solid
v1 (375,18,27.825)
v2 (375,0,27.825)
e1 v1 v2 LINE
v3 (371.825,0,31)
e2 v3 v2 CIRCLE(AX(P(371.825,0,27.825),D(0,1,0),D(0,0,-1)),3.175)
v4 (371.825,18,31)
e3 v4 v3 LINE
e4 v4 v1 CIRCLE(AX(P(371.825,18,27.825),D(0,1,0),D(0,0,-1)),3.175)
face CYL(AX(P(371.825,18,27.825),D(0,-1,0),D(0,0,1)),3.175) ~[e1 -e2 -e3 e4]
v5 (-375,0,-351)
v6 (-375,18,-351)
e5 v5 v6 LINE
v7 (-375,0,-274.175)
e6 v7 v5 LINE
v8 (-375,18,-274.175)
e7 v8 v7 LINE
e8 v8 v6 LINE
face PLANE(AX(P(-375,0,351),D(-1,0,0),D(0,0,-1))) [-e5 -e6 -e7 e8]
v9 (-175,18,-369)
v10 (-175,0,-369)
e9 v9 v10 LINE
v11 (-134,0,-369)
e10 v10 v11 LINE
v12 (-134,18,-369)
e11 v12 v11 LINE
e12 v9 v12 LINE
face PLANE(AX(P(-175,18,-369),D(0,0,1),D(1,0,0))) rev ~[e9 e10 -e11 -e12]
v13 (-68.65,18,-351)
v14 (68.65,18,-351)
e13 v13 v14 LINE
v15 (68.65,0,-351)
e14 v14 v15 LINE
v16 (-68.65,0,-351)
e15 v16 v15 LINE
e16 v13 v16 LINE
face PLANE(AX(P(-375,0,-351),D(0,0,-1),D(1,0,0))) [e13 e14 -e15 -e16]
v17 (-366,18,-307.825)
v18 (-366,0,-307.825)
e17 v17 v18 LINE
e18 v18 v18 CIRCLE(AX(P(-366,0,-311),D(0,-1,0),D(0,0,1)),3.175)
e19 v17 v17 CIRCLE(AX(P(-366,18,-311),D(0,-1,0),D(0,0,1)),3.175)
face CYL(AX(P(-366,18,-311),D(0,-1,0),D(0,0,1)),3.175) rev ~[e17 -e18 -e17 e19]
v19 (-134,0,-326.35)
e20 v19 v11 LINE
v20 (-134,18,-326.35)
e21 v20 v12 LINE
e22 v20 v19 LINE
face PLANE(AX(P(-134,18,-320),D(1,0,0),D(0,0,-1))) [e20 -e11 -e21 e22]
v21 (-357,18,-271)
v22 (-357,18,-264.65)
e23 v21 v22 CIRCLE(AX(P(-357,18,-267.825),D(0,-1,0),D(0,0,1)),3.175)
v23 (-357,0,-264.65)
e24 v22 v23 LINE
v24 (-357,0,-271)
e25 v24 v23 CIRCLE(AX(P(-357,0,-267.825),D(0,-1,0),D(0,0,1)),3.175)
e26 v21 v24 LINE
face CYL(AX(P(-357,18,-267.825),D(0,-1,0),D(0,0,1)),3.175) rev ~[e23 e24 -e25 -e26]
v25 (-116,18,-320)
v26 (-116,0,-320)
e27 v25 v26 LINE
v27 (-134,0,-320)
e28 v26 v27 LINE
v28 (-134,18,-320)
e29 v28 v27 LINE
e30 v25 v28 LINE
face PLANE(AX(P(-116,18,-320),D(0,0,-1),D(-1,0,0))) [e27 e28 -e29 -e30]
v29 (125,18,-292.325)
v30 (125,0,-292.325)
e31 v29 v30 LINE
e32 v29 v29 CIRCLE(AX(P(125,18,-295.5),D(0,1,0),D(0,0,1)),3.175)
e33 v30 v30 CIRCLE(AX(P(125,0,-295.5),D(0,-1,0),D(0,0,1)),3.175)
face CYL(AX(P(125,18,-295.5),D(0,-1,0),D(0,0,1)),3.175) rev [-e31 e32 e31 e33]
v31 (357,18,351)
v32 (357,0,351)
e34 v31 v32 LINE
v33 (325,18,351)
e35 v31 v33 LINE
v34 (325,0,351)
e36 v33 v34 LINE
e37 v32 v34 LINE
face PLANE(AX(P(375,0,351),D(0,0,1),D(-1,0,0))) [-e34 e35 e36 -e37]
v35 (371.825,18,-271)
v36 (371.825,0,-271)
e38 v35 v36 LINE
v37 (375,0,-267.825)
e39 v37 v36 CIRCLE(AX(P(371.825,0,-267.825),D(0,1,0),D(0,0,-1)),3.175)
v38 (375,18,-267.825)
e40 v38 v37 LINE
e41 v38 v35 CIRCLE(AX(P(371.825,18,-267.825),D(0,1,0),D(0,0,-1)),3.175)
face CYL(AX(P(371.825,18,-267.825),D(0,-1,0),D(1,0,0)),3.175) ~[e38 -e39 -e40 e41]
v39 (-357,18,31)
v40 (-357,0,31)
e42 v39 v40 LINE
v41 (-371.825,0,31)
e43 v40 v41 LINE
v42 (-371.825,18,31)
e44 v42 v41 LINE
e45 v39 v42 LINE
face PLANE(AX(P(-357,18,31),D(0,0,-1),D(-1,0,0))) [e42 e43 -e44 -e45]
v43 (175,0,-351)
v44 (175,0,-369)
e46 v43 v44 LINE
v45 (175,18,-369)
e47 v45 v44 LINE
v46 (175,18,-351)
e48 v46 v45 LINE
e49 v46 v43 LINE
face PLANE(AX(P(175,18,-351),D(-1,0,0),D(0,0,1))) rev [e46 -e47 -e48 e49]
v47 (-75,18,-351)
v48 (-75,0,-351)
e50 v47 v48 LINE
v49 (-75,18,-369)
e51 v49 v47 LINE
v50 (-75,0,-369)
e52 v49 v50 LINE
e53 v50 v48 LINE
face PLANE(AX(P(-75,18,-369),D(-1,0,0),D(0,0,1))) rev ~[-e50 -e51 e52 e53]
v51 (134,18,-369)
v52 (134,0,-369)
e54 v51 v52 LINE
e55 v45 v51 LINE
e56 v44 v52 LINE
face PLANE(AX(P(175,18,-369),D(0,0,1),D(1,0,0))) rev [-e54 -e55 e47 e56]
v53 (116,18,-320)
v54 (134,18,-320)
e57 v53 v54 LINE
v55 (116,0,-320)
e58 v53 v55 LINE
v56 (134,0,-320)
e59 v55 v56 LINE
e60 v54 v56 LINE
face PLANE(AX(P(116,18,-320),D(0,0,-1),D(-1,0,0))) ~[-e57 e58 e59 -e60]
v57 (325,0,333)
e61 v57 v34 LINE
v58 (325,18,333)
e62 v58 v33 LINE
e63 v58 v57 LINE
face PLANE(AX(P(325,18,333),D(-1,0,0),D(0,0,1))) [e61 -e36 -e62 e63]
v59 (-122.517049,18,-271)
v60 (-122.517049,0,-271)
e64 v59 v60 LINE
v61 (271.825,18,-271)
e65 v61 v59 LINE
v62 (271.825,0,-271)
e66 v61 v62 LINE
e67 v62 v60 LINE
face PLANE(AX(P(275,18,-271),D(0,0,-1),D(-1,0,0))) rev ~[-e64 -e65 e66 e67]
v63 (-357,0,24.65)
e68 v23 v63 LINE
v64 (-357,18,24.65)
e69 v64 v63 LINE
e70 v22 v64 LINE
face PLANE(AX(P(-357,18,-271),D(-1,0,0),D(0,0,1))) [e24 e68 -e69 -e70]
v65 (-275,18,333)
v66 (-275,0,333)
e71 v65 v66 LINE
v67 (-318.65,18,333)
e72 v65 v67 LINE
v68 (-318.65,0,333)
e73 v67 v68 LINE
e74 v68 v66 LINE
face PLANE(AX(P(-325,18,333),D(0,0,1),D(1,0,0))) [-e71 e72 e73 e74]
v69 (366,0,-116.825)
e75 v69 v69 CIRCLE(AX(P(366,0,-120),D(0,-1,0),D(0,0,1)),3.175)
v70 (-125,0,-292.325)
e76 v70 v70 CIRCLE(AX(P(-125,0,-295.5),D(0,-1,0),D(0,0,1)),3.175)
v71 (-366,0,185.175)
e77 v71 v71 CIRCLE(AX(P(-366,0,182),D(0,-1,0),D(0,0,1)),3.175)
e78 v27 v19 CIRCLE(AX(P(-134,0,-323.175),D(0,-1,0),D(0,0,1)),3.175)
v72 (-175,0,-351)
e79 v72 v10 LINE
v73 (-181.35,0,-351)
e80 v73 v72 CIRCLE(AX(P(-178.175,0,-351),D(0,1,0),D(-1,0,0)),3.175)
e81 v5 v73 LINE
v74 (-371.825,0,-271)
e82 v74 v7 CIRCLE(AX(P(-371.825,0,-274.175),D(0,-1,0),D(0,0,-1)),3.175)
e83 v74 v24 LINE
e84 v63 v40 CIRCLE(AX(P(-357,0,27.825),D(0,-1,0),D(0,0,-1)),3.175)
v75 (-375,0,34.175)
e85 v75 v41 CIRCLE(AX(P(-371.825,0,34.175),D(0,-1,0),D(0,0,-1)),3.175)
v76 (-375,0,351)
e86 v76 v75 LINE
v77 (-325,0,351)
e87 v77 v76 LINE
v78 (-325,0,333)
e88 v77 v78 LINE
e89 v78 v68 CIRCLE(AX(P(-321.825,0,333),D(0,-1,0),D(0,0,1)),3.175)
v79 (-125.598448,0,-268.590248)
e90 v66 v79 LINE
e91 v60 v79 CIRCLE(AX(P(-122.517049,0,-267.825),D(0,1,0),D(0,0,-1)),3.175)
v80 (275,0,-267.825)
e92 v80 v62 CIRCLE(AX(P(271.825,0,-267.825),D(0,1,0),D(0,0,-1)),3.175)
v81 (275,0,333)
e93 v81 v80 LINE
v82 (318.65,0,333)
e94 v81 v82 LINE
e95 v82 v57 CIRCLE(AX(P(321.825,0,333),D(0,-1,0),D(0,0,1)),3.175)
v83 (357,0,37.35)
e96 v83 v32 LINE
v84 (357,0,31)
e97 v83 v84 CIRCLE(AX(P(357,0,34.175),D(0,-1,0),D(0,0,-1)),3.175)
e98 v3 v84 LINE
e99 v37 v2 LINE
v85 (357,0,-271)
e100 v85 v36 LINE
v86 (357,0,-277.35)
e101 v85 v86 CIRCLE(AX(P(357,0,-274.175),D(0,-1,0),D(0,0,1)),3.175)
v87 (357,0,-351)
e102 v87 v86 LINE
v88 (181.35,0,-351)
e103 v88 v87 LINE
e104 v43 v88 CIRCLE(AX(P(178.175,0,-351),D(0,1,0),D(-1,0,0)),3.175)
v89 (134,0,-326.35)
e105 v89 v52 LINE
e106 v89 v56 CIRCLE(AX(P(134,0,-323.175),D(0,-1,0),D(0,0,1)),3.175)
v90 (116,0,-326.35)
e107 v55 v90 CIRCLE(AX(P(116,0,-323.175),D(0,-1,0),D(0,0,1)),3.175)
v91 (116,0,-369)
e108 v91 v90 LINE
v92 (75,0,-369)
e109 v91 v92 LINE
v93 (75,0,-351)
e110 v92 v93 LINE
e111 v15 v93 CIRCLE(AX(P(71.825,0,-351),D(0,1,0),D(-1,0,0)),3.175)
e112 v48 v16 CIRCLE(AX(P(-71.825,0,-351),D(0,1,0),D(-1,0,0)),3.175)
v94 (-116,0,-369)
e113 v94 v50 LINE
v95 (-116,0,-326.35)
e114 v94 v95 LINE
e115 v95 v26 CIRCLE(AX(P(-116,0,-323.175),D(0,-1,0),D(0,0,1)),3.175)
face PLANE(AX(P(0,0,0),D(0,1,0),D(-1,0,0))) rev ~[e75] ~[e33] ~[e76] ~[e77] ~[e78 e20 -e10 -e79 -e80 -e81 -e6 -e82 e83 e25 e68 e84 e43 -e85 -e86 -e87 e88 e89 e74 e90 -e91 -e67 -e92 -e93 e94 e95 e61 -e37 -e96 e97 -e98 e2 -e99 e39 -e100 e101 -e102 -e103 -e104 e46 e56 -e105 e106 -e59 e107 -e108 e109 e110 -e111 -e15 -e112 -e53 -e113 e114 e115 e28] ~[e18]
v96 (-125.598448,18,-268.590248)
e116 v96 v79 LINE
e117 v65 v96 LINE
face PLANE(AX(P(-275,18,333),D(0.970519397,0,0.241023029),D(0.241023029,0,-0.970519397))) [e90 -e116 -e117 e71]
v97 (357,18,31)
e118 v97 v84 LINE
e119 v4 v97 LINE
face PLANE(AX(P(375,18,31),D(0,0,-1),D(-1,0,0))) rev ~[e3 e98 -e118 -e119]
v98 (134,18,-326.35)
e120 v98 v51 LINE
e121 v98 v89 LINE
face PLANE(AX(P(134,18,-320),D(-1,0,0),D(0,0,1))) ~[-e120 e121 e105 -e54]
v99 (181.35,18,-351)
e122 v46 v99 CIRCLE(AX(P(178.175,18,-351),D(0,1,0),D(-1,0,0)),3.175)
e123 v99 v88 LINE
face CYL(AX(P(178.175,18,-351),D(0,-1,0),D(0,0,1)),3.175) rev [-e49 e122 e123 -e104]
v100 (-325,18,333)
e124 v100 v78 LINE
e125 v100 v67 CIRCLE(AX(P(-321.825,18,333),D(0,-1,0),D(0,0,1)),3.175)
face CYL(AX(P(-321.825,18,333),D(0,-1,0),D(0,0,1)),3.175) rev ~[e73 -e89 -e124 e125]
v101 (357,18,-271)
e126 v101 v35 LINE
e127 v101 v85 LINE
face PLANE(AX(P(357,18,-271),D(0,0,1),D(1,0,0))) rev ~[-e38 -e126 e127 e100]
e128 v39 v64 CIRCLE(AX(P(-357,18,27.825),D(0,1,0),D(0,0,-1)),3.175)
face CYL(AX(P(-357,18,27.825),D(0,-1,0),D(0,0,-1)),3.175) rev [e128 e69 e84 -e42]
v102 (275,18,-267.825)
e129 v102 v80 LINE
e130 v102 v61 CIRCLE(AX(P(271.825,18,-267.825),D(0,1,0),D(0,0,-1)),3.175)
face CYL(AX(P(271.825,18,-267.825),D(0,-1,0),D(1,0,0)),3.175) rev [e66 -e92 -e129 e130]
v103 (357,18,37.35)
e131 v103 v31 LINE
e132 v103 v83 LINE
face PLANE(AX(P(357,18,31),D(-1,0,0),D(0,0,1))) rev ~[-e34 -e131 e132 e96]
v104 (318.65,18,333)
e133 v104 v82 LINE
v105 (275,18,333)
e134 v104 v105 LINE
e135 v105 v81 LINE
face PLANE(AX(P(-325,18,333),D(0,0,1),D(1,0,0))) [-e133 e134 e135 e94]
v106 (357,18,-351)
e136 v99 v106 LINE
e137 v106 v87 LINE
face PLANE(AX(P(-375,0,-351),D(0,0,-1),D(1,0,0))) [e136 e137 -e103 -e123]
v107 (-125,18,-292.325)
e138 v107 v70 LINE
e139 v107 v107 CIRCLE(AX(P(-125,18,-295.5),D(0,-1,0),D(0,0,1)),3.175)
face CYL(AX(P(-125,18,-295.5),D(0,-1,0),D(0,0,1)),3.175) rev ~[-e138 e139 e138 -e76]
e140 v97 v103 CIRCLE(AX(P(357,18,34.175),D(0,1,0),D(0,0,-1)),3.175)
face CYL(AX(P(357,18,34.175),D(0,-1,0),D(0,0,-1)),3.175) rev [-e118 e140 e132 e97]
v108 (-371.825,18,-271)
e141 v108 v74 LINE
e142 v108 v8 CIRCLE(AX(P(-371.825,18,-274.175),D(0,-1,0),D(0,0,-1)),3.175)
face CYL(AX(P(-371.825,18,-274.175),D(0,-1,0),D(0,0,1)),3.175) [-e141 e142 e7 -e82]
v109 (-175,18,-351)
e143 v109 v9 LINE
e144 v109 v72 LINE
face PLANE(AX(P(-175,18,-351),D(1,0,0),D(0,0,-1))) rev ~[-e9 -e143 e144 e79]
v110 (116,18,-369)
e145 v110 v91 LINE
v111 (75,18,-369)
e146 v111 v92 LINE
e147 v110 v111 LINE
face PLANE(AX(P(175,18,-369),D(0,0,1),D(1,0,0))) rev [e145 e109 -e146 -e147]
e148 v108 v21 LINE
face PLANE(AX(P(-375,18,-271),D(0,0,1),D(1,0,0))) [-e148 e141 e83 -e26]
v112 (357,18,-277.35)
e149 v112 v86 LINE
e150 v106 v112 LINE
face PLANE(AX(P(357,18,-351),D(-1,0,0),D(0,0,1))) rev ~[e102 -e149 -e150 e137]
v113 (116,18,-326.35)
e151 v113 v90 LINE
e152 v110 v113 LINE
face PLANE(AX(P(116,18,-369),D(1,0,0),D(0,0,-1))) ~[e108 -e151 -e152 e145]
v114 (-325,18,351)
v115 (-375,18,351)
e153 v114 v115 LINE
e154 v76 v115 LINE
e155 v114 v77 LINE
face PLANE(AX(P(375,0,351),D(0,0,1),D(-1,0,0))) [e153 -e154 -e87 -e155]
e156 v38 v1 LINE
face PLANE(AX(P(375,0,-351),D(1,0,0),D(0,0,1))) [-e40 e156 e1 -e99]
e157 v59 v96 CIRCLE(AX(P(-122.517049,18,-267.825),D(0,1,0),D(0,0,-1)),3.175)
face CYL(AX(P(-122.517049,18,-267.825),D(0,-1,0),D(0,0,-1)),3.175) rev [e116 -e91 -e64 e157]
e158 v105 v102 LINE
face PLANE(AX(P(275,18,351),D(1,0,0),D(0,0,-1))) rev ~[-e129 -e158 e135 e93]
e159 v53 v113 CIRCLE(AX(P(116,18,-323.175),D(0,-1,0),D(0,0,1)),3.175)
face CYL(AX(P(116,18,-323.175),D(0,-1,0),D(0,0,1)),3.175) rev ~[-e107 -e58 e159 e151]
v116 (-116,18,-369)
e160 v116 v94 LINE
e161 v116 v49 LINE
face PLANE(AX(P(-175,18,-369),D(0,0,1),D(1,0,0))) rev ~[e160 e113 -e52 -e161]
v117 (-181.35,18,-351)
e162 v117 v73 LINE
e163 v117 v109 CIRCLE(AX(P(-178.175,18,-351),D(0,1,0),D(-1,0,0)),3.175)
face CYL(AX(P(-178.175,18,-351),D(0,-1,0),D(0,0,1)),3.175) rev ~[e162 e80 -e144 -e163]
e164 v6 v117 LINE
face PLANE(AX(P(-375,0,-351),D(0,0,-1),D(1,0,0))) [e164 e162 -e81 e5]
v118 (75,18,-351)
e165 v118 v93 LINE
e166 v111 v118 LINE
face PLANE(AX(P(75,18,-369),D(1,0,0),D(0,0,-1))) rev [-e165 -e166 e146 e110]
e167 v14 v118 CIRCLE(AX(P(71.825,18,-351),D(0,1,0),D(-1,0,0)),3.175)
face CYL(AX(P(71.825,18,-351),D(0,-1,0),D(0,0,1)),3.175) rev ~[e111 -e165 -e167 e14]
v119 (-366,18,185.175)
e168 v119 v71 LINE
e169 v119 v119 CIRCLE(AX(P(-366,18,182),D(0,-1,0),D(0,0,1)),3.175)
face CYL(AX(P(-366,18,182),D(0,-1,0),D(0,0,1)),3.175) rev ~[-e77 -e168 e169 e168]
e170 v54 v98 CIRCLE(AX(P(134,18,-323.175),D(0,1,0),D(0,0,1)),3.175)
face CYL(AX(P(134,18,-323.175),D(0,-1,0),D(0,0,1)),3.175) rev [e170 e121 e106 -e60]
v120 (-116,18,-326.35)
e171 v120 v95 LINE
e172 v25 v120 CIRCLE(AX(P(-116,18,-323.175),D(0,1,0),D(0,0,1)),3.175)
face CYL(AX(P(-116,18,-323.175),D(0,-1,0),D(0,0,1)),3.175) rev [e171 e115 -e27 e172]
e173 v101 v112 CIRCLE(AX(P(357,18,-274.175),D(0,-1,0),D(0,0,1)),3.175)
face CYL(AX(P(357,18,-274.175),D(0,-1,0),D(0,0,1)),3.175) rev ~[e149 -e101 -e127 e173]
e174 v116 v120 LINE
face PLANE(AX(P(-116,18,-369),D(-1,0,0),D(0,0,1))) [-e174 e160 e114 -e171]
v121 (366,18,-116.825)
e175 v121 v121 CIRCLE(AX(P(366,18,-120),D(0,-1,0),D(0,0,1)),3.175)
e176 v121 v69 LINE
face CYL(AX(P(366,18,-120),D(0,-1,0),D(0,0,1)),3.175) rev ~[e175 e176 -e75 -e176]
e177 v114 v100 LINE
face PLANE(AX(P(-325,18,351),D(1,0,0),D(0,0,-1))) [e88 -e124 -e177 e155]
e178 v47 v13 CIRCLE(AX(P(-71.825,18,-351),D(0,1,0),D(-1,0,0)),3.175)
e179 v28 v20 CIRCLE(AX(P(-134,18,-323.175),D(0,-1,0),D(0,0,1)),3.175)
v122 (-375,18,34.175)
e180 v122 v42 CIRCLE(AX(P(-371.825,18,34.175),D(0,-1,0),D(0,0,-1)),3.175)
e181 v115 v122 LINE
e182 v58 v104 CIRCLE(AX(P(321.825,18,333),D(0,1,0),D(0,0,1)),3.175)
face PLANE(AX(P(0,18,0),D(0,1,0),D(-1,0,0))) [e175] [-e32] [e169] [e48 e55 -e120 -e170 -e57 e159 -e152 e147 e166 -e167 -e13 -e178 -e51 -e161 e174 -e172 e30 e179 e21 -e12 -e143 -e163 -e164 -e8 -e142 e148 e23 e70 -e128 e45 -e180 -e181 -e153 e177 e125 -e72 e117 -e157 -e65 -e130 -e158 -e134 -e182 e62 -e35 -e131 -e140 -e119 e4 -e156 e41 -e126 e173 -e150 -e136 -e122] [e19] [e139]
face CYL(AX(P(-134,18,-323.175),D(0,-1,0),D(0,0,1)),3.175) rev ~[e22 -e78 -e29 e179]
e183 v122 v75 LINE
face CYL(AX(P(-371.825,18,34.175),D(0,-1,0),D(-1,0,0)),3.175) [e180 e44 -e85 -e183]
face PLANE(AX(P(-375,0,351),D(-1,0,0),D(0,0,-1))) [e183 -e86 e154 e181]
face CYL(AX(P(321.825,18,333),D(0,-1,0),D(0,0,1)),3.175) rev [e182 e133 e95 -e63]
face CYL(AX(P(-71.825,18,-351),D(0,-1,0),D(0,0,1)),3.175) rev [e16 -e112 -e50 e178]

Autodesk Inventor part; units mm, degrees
sketch "Sketch1" plane through (0, 0, 0) normal (0, 1, 0) x (-1, 0, 0)
  line L0 (375, -351) -> (-375, -351)
  line L1 (-375, -351) -> (-375, 351)
  line L2 (-375, 351) -> (375, 351)
  line L3 (375, 351) -> (375, -351)
  point P0 (0, 0)
  point P1 (0, -351)
  point P2 (375, 0)
  dimension "d0" = 750
  dimension "d1" = 702
extrude "Extrusion1" add sketch "Sketch1" along normal blind 18
sketch "Sketch2" plane through (0, 18, 0) normal (0, 1, 0) x (1, 0, 0)
  line L0 (375, -351) -> (375, 351) construction
  line L1 (-375, 351) -> (375, 351) construction
  line L2 (375, 351) -> (375, 271) construction
  line L3 (375, 271) -> (-375, 271) construction
  line L4 (-375, 271) -> (-375, 351) construction
  line L5 (-375, -351) -> (-275, -351) construction
  line L6 (375, -351) -> (275, -351) construction
  line L7 (-375, -351) -> (375, -351) construction
  line L8 (-375, 271) -> (-125, 271) construction
  line L9 (-375, 351) -> (-375, -351) construction
  line L10 (-275, -351) -> (275, -351)
  line L11 (275, -351) -> (275, 271)
  line L12 (275, 271) -> (-125, 271)
  line L13 (-275, -351) -> (-275, -333)
  line L14 (-275, -333) -> (-125, 271)
  point P0 (0, 0)
  point P1 (375, 0)
  point P2 (-375, 0)
  point P3 (-250, 271)
  point P4 (0, 271)
  dimension "d4" = 80
  dimension "d5" = 100
  dimension "d6" = 100
  dimension "d7" = 250
  dimension "d101" = 18
extrude "Extrusion2" cut sketch "Sketch2" against normal blind 18
sketch "Sketch3" plane through (0, 18, 0) normal (0, 1, 0) x (1, 0, 0)
  line L0 (-125, 271) -> (275, 271) projected
  line L1 (275, 271) -> (275, -351) projected
  line L2 (275, -351) -> (375, -351) projected
  line L3 (375, -351) -> (375, 351) projected
  line L4 (375, 351) -> (-375, 351) projected
  line L5 (-375, 351) -> (-375, -351) projected
  line L6 (-325, -333) -> (325, -333)
  line L7 (325, -333) -> (325, -351)
  line L8 (325, -351) -> (-325, -351)
  line L9 (-325, -351) -> (-325, -333)
  line L10 (275, -351) -> (375, -351) projected
  line L11 (-375, -351) -> (-275, -351) projected
  line L12 (-275, -351) -> (-275, -333) projected
  line L13 (-275, -333) -> (-125, 271) projected
  point P0 (0, 0)
  point P1 (0, -351)
  point P2 (325, -351)
  point P3 (325, -342)
  point P4 (325, -351)
  point P5 (-325, -342)
  point P6 (-325, -351)
  dimension "d11" = 18
extrude "Extrusion3" cut sketch "Sketch3" against normal through all contours L12 L8 L9 L6 | L6 L1 L8 L12 | L6 L7 L2 L1
sketch "Sketch4" plane through (0, 18, 0) normal (0, 1, 0) x (1, 0, 0)
  line L0 (325, -333) -> (325, -351) projected
  line L1 (325, -351) -> (375, -351) projected
  line L2 (375, -351) -> (375, 351) projected
  line L3 (375, 351) -> (-375, 351) projected
  line L4 (-375, 351) -> (-375, -351) projected
  line L5 (-375, -351) -> (-325, -351) projected
  line L6 (-325, -351) -> (-325, -333) projected
  line L7 (-325, -333) -> (-275, -333) projected
  line L8 (-125, 271) -> (275, 271) projected
  line L9 (275, 271) -> (275, -333) projected
  line L10 (275, -333) -> (325, -333) projected
  line L11 (375, -31) -> (357, -31)
  line L12 (357, -31) -> (357, -351)
  line L13 (357, -351) -> (375, -351)
  line L14 (375, -351) -> (375, -31)
  line L15 (-275, -333) -> (-125, 271) projected
  point P0 (0, 0)
  point P1 (375, -191)
  point P2 (375, 0)
  point P3 (366, -351)
  point P4 (350, -351)
  point P5 (366, -31)
  point P6 (275, -31)
  dimension "d14" = 18
extrude "Extrusion4" cut sketch "Sketch4" against normal through all contours L12 L11 L2 L1
sketch "Sketch5" plane through (0, 18, 0) normal (0, 1, 0) x (1, 0, 0)
  line L0 (375, 351) -> (357, 351)
  line L1 (357, 351) -> (357, 271)
  line L2 (357, 271) -> (375, 271)
  line L3 (375, 271) -> (375, 351)
  line L4 (357, -31) -> (375, -31) projected
  line L5 (375, -31) -> (375, 351) projected
  line L6 (375, 351) -> (-375, 351) projected
  line L7 (-375, 351) -> (-375, -351) projected
  line L8 (-375, -351) -> (-325, -351) projected
  line L9 (-325, -351) -> (-325, -333) projected
  line L10 (-325, -333) -> (-275, -333) projected
  line L11 (-125, 271) -> (275, 271) projected
  line L12 (275, 271) -> (275, -333) projected
  line L13 (275, -333) -> (325, -333) projected
  line L14 (325, -333) -> (325, -351) projected
  line L15 (325, -351) -> (357, -351) projected
  line L16 (357, -351) -> (357, -31) projected
  line L17 (-275, -333) -> (-125, 271) projected
  point P0 (0, 0)
  point P1 (375, 311)
  point P2 (375, 160)
  point P3 (366, 351)
  point P4 (0, 351)
  point P5 (366, 271)
  point P6 (75, 271)
  dimension "d17" = 18
extrude "Extrusion5" cut sketch "Sketch5" against normal through all contours L3 L2 L1 L0
sketch "Sketch6" plane through (0, 18, 0) normal (0, 1, 0) x (1, 0, 0)
  line L0 (357, 271) -> (357, 351) projected
  line L1 (357, 351) -> (-375, 351) projected
  line L2 (-375, 351) -> (-375, -351) projected
  line L3 (-375, -351) -> (-325, -351) projected
  line L4 (-325, -351) -> (-325, -333) projected
  line L5 (-325, -333) -> (-275, -333) projected
  line L6 (-125, 271) -> (275, 271) projected
  line L7 (275, 271) -> (275, -333) projected
  line L8 (275, -333) -> (325, -333) projected
  line L9 (325, -333) -> (325, -351) projected
  line L10 (325, -351) -> (357, -351) projected
  line L11 (357, -351) -> (357, -31) projected
  line L12 (357, -31) -> (375, -31) projected
  line L13 (375, -31) -> (375, 271) projected
  line L14 (375, 271) -> (357, 271) projected
  line L15 (-375, 271) -> (-357, 271)
  line L16 (-357, 271) -> (-357, -31)
  line L17 (-357, -31) -> (-375, -31)
  line L18 (-375, -31) -> (-375, 271)
  line L19 (-275, -333) -> (-125, 271) projected
  point P0 (0, 0)
  point P1 (-375, 120)
  point P2 (-375, 0)
  point P3 (-366, 271)
  point P4 (75, 271)
  point P5 (-366, -31)
  point P6 (366, -31)
  dimension "d20" = 18
extrude "Extrusion6" cut sketch "Sketch6" against normal through all contours L15 L16 L17 L2
fillet "Fillet1" radius 3.175 2 edges at (-125, 9, -271) (275, 9, -271)
sketch "Sketch7" plane through (0, 18, 0) normal (0, 1, 0) x (1, 0, 0)
  line L0 (-375, 271) -> (-357, 271) projected
  line L1 (-357, 271) -> (-357, -31) projected
  line L2 (-357, -31) -> (-375, -31) projected
  line L3 (-375, -31) -> (-375, -351) projected
  line L4 (-375, -351) -> (-325, -351) projected
  line L5 (-325, -351) -> (-325, -333) projected
  line L6 (-325, -333) -> (-275, -333) projected
  arc A0 (-122.517, 271) -> (-125.5984, 268.5902) centre (-122.517, 267.825) ccw projected
  line L7 (-122.517, 271) -> (271.825, 271) projected
  arc A1 (275, 267.825) -> (271.825, 271) centre (271.825, 267.825) ccw projected
  line L8 (275, 267.825) -> (275, -333) projected
  line L9 (275, -333) -> (325, -333) projected
  line L10 (325, -333) -> (325, -351) projected
  line L11 (325, -351) -> (357, -351) projected
  line L12 (357, -351) -> (357, -31) projected
  line L13 (357, -31) -> (375, -31) projected
  line L14 (375, -31) -> (375, 271) projected
  line L15 (375, 271) -> (357, 271) projected
  line L16 (357, 271) -> (357, 351) projected
  line L17 (357, 351) -> (-375, 351) projected
  line L18 (-375, 351) -> (-375, 271) projected
  line L19 (-175, 369) -> (-75, 369)
  line L20 (-75, 369) -> (-75, 351)
  line L21 (-75, 351) -> (-175, 351)
  line L22 (-175, 351) -> (-175, 369)
  line L23 (-275, -333) -> (-125.5984, 268.5902) projected
  point P0 (0, 0)
  point P1 (-125, 351)
  point P2 (-9, 351)
  dimension "d24" = 18
  dimension "d25" = 100
  dimension "d26" = 250
extrude "Extrusion7" add sketch "Sketch7" against normal blind 18 contours L22 L19 L20 L17
ref_plane "Work Plane3" through (0, 0, -351) normal (-1, 0, 0) x (0, 0, 1)
mirror "Mirror3" about plane through (0, 0, -351) normal (-1, 0, 0) of "Extrusion7"
sketch "Sketch8" plane through (0, 18, 0) normal (0, 1, 0) x (1, 0, 0)
  line L0 (-134, 369) -> (-116, 369)
  line L1 (-116, 369) -> (-116, 320)
  line L2 (-116, 320) -> (-134, 320)
  line L3 (-134, 320) -> (-134, 369)
  line L4 (-375, 271) -> (-357, 271) projected
  line L5 (-357, 271) -> (-357, -31) projected
  line L6 (-357, -31) -> (-375, -31) projected
  line L7 (-375, -31) -> (-375, -351) projected
  line L8 (-375, -351) -> (-325, -351) projected
  line L9 (-325, -351) -> (-325, -333) projected
  line L10 (-325, -333) -> (-275, -333) projected
  arc A0 (-122.517, 271) -> (-125.5984, 268.5902) centre (-122.517, 267.825) ccw projected
  line L11 (-122.517, 271) -> (271.825, 271) projected
  arc A1 (275, 267.825) -> (271.825, 271) centre (271.825, 267.825) ccw projected
  line L12 (275, 267.825) -> (275, -333) projected
  line L13 (275, -333) -> (325, -333) projected
  line L14 (325, -333) -> (325, -351) projected
  line L15 (325, -351) -> (357, -351) projected
  line L16 (357, -351) -> (357, -31) projected
  line L17 (357, -31) -> (375, -31) projected
  line L18 (375, -31) -> (375, 271) projected
  line L19 (375, 271) -> (357, 271) projected
  line L20 (357, 271) -> (357, 351) projected
  line L21 (357, 351) -> (175, 351) projected
  line L22 (175, 351) -> (175, 369) projected
  line L23 (175, 369) -> (75, 369) projected
  line L24 (75, 369) -> (75, 351) projected
  line L25 (75, 351) -> (-75, 351) projected
  line L26 (-75, 369) -> (-75, 351) projected
  line L27 (-175, 369) -> (-75, 369) projected
  line L28 (-175, 351) -> (-175, 369) projected
  line L29 (-175, 351) -> (-375, 351) projected
  line L30 (-375, 351) -> (-375, 271) projected
  line L31 (-175, 369) -> (-75, 369) projected
  line L32 (271.825, 271) -> (-122.517, 271) construction
  line L33 (-275, -333) -> (-125.5984, 268.5902) projected
  point P0 (0, 0)
  point P1 (-125, 369)
  point P2 (-125, 369)
  point P3 (-125, 369)
  point P4 (-125, 320)
  point P5 (-75, 320)
  dimension "d29" = 18
  dimension "d32" = 49
extrude "Extrusion8" cut sketch "Sketch8" against normal blind 18 contours L0 L1 L2 L3
mirror "Mirror4" about plane through (0, 0, -351) normal (-1, 0, 0) of "Extrusion8"
sketch "Sketch9" plane through (0, 18, 0) normal (0, 1, 0) x (1, 0, 0)
  line L0 (116, 320) -> (116, 369) projected
  line L1 (116, 369) -> (75, 369) projected
  line L2 (75, 369) -> (75, 351) projected
  line L3 (75, 351) -> (-75, 351) projected
  line L4 (-75, 369) -> (-75, 351) projected
  line L5 (-116, 369) -> (-75, 369) projected
  line L6 (-116, 369) -> (-116, 320) projected
  line L7 (-116, 320) -> (-134, 320) projected
  line L8 (-134, 320) -> (-134, 369) projected
  line L9 (-175, 369) -> (-134, 369) projected
  line L10 (-175, 351) -> (-175, 369) projected
  line L11 (-175, 351) -> (-375, 351) projected
  line L12 (-375, 351) -> (-375, 271) projected
  line L13 (-375, 271) -> (-357, 271) projected
  line L14 (-357, 271) -> (-357, -31) projected
  line L15 (-357, -31) -> (-375, -31) projected
  line L16 (-375, -31) -> (-375, -351) projected
  line L17 (-375, -351) -> (-325, -351) projected
  line L18 (-325, -351) -> (-325, -333) projected
  line L19 (-325, -333) -> (-275, -333) projected
  arc A0 (-122.517, 271) -> (-125.5984, 268.5902) centre (-122.517, 267.825) ccw projected
  line L20 (-122.517, 271) -> (271.825, 271) projected
  arc A1 (275, 267.825) -> (271.825, 271) centre (271.825, 267.825) ccw projected
  line L21 (275, 267.825) -> (275, -333) projected
  line L22 (275, -333) -> (325, -333) projected
  line L23 (325, -333) -> (325, -351) projected
  line L24 (325, -351) -> (357, -351) projected
  line L25 (357, -351) -> (357, -31) projected
  line L26 (357, -31) -> (375, -31) projected
  line L27 (375, -31) -> (375, 271) projected
  line L28 (375, 271) -> (357, 271) projected
  line L29 (357, 271) -> (357, 351) projected
  line L30 (357, 351) -> (175, 351) projected
  line L31 (175, 351) -> (175, 369) projected
  line L32 (175, 369) -> (134, 369) projected
  line L33 (134, 369) -> (134, 320) projected
  line L34 (134, 320) -> (116, 320) projected
  line L35 (-175, 351) -> (-178.175, 351) construction
  line L36 (-134, 323.175) -> (-134, 320) construction
  line L37 (-275, -333) -> (-125.5984, 268.5902) projected
  point P0 (0, 0)
  point P1 (-175, 360)
  point P2 (-176.5875, 351)
  point P3 (-275, 351)
  point P4 (-125, 320)
  point P5 (-134, 321.5875)
  point P6 (-134, 344.5)
  dimension "d33" = 3.175
  dimension "d34" = 3.175
hole "Hole1" at (-178.175, 18, -351) at (-134, 18, -323.175) direction (0, -1, 0) diameter 6.35 end through all
ref_plane "Work Plane4" through (-125, 18, -369) normal (-1, 0, 0) x (0, 0, 1)
mirror "Mirror5" about plane through (-125, 18, -369) normal (-1, 0, 0) of "Hole1"
mirror "Mirror6" about plane through (0, 0, -351) normal (-1, 0, 0) of "Hole1", "Mirror5"
sketch "Sketch10" plane through (0, 18, 0) normal (0, 1, 0) x (1, 0, 0)
  arc A0 (68.65, 351) -> (75, 351) centre (71.825, 351) ccw projected
  line L0 (68.65, 351) -> (-68.65, 351) projected
  arc A1 (-75, 351) -> (-68.65, 351) centre (-71.825, 351) ccw projected
  line L1 (-75, 369) -> (-75, 351) projected
  line L2 (-116, 369) -> (-75, 369) projected
  line L3 (-116, 369) -> (-116, 326.35) projected
  arc A2 (-116, 320) -> (-116, 326.35) centre (-116, 323.175) ccw projected
  line L4 (-116, 320) -> (-134, 320) projected
  arc A3 (-134, 326.35) -> (-134, 320) centre (-134, 323.175) ccw projected
  line L5 (-134, 326.35) -> (-134, 369) projected
  line L6 (-175, 369) -> (-134, 369) projected
  line L7 (-175, 351) -> (-175, 369) projected
  arc A4 (-181.35, 351) -> (-175, 351) centre (-178.175, 351) ccw projected
  line L8 (-181.35, 351) -> (-375, 351) projected
  line L9 (-375, 351) -> (-375, 271) projected
  line L10 (-375, 271) -> (-357, 271) projected
  line L11 (-357, 271) -> (-357, -31) projected
  line L12 (-357, -31) -> (-375, -31) projected
  line L13 (-375, -31) -> (-375, -351) projected
  line L14 (-375, -351) -> (-325, -351) projected
  line L15 (-325, -351) -> (-325, -333) projected
  line L16 (-325, -333) -> (-275, -333) projected
  arc A5 (-122.517, 271) -> (-125.5984, 268.5902) centre (-122.517, 267.825) ccw projected
  line L17 (-122.517, 271) -> (271.825, 271) projected
  arc A6 (275, 267.825) -> (271.825, 271) centre (271.825, 267.825) ccw projected
  line L18 (275, 267.825) -> (275, -333) projected
  line L19 (275, -333) -> (325, -333) projected
  line L20 (325, -333) -> (325, -351) projected
  line L21 (325, -351) -> (357, -351) projected
  line L22 (357, -351) -> (357, -31) projected
  line L23 (357, -31) -> (375, -31) projected
  line L24 (375, -31) -> (375, 271) projected
  line L25 (375, 271) -> (357, 271) projected
  line L26 (357, 271) -> (357, 351) projected
  line L27 (357, 351) -> (181.35, 351) projected
  arc A7 (175, 351) -> (181.35, 351) centre (178.175, 351) ccw projected
  line L28 (175, 351) -> (175, 369) projected
  line L29 (175, 369) -> (134, 369) projected
  line L30 (134, 369) -> (134, 326.35) projected
  arc A8 (134, 320) -> (134, 326.35) centre (134, 323.175) ccw projected
  line L31 (134, 320) -> (116, 320) projected
  arc A9 (116, 326.35) -> (116, 320) centre (116, 323.175) ccw projected
  line L32 (116, 326.35) -> (116, 369) projected
  line L33 (116, 369) -> (75, 369) projected
  line L34 (75, 369) -> (75, 351) projected
  line L35 (-275, -333) -> (-125.5984, 268.5902) projected
  point P0 (0, 0)
  point P1 (-357, 267.825)
  dimension "d42" = 3.175
hole "Hole2" at (-357, 18, -267.825) direction (0, -1, 0) diameter 6.35 end through all
ref_plane "Work Plane5" through (-375, 0, -120) normal (0, 0, 1) x (1, 0, 0)
mirror "Mirror7" about plane through (-375, 0, -120) normal (0, 0, 1) of "Hole2"
sketch "Sketch11" plane through (0, 18, 0) normal (0, 1, 0) x (1, 0, 0)
  arc A0 (-357, -31) -> (-357, -24.65) centre (-357, -27.825) ccw projected
  line L0 (-357, -31) -> (-375, -31) projected
  line L1 (-375, -31) -> (-375, -351) projected
  line L2 (-375, -351) -> (-325, -351) projected
  line L3 (-325, -351) -> (-325, -333) projected
  line L4 (-325, -333) -> (-275, -333) projected
  arc A1 (-122.517, 271) -> (-125.5984, 268.5902) centre (-122.517, 267.825) ccw projected
  line L5 (-122.517, 271) -> (271.825, 271) projected
  arc A2 (275, 267.825) -> (271.825, 271) centre (271.825, 267.825) ccw projected
  line L6 (275, 267.825) -> (275, -333) projected
  line L7 (275, -333) -> (325, -333) projected
  line L8 (325, -333) -> (325, -351) projected
  line L9 (325, -351) -> (357, -351) projected
  line L10 (357, -351) -> (357, -31) projected
  line L11 (357, -31) -> (375, -31) projected
  line L12 (375, -31) -> (375, 271) projected
  line L13 (375, 271) -> (357, 271) projected
  line L14 (357, 271) -> (357, 351) projected
  line L15 (357, 351) -> (181.35, 351) projected
  arc A3 (175, 351) -> (181.35, 351) centre (178.175, 351) ccw projected
  line L16 (175, 351) -> (175, 369) projected
  line L17 (175, 369) -> (134, 369) projected
  line L18 (134, 369) -> (134, 326.35) projected
  arc A4 (134, 320) -> (134, 326.35) centre (134, 323.175) ccw projected
  line L19 (134, 320) -> (116, 320) projected
  arc A5 (116, 326.35) -> (116, 320) centre (116, 323.175) ccw projected
  line L20 (116, 326.35) -> (116, 369) projected
  line L21 (116, 369) -> (75, 369) projected
  line L22 (75, 369) -> (75, 351) projected
  arc A6 (68.65, 351) -> (75, 351) centre (71.825, 351) ccw projected
  line L23 (68.65, 351) -> (-68.65, 351) projected
  arc A7 (-75, 351) -> (-68.65, 351) centre (-71.825, 351) ccw projected
  line L24 (-75, 369) -> (-75, 351) projected
  line L25 (-116, 369) -> (-75, 369) projected
  line L26 (-116, 369) -> (-116, 326.35) projected
  arc A8 (-116, 320) -> (-116, 326.35) centre (-116, 323.175) ccw projected
  line L27 (-116, 320) -> (-134, 320) projected
  arc A9 (-134, 326.35) -> (-134, 320) centre (-134, 323.175) ccw projected
  line L28 (-134, 326.35) -> (-134, 369) projected
  line L29 (-175, 369) -> (-134, 369) projected
  line L30 (-175, 351) -> (-175, 369) projected
  arc A10 (-181.35, 351) -> (-175, 351) centre (-178.175, 351) ccw projected
  line L31 (-181.35, 351) -> (-375, 351) projected
  line L32 (-375, 351) -> (-375, 271) projected
  line L33 (-375, 271) -> (-357, 271) projected
  arc A11 (-357, 264.65) -> (-357, 271) centre (-357, 267.825) ccw projected
  line L34 (-357, 264.65) -> (-357, -24.65) projected
  line L35 (-275, -333) -> (-125.5984, 268.5902) projected
  point P0 (0, 0)
  point P1 (357, 274.175)
  dimension "d50" = 3.175
hole "Hole3" at (357, 18, -274.175) direction (0, -1, 0) diameter 6.35 end through all
mirror "Mirror8" about plane through (-375, 0, -120) normal (0, 0, 1) of "Hole3"
sketch "Sketch12" plane through (0, 18, 0) normal (0, 1, 0) x (1, 0, 0)
  arc A0 (357, -31) -> (357, -37.35) centre (357, -34.175) ccw projected
  line L0 (357, -31) -> (375, -31) projected
  line L1 (375, -31) -> (375, 271) projected
  line L2 (375, 271) -> (357, 271) projected
  arc A1 (357, 277.35) -> (357, 271) centre (357, 274.175) ccw projected
  line L3 (357, 277.35) -> (357, 351) projected
  line L4 (357, 351) -> (181.35, 351) projected
  arc A2 (175, 351) -> (181.35, 351) centre (178.175, 351) ccw projected
  line L5 (175, 351) -> (175, 369) projected
  line L6 (175, 369) -> (134, 369) projected
  line L7 (134, 369) -> (134, 326.35) projected
  arc A3 (134, 320) -> (134, 326.35) centre (134, 323.175) ccw projected
  line L8 (134, 320) -> (116, 320) projected
  arc A4 (116, 326.35) -> (116, 320) centre (116, 323.175) ccw projected
  line L9 (116, 326.35) -> (116, 369) projected
  line L10 (116, 369) -> (75, 369) projected
  line L11 (75, 369) -> (75, 351) projected
  arc A5 (68.65, 351) -> (75, 351) centre (71.825, 351) ccw projected
  line L12 (68.65, 351) -> (-68.65, 351) projected
  arc A6 (-75, 351) -> (-68.65, 351) centre (-71.825, 351) ccw projected
  line L13 (-75, 369) -> (-75, 351) projected
  line L14 (-116, 369) -> (-75, 369) projected
  line L15 (-116, 369) -> (-116, 326.35) projected
  arc A7 (-116, 320) -> (-116, 326.35) centre (-116, 323.175) ccw projected
  line L16 (-116, 320) -> (-134, 320) projected
  arc A8 (-134, 326.35) -> (-134, 320) centre (-134, 323.175) ccw projected
  line L17 (-134, 326.35) -> (-134, 369) projected
  line L18 (-175, 369) -> (-134, 369) projected
  line L19 (-175, 351) -> (-175, 369) projected
  arc A9 (-181.35, 351) -> (-175, 351) centre (-178.175, 351) ccw projected
  line L20 (-181.35, 351) -> (-375, 351) projected
  line L21 (-375, 351) -> (-375, 271) projected
  line L22 (-375, 271) -> (-357, 271) projected
  arc A10 (-357, 264.65) -> (-357, 271) centre (-357, 267.825) ccw projected
  line L23 (-357, 264.65) -> (-357, -24.65) projected
  arc A11 (-357, -31) -> (-357, -24.65) centre (-357, -27.825) ccw projected
  line L24 (-357, -31) -> (-375, -31) projected
  line L25 (-375, -31) -> (-375, -351) projected
  line L26 (-375, -351) -> (-325, -351) projected
  line L27 (-325, -351) -> (-325, -333) projected
  line L28 (-325, -333) -> (-275, -333) projected
  arc A12 (-122.517, 271) -> (-125.5984, 268.5902) centre (-122.517, 267.825) ccw projected
  line L29 (-122.517, 271) -> (271.825, 271) projected
  arc A13 (275, 267.825) -> (271.825, 271) centre (271.825, 267.825) ccw projected
  line L30 (275, 267.825) -> (275, -333) projected
  line L31 (275, -333) -> (325, -333) projected
  line L32 (325, -333) -> (325, -351) projected
  line L33 (325, -351) -> (357, -351) projected
  line L34 (357, -351) -> (357, -37.35) projected
  line L35 (-275, -333) -> (-125.5984, 268.5902) projected
  point P0 (0, 0)
  point P1 (-321.825, -333)
  dimension "d58" = 3.175
hole "Hole4" at (-321.825, 18, 333) direction (0, -1, 0) diameter 6.35 end through all
mirror "Mirror9" about plane through (0, 0, -351) normal (-1, 0, 0) of "Hole4"
sketch "Sketch13" plane through (0, 18, 0) normal (0, 1, 0) x (1, 0, 0)
  arc A0 (325, -333) -> (318.65, -333) centre (321.825, -333) ccw projected
  line L0 (325, -333) -> (325, -351) projected
  line L1 (325, -351) -> (357, -351) projected
  line L2 (357, -351) -> (357, -37.35) projected
  arc A1 (357, -31) -> (357, -37.35) centre (357, -34.175) ccw projected
  line L3 (357, -31) -> (375, -31) projected
  line L4 (375, -31) -> (375, 271) projected
  line L5 (375, 271) -> (357, 271) projected
  arc A2 (357, 277.35) -> (357, 271) centre (357, 274.175) ccw projected
  line L6 (357, 277.35) -> (357, 351) projected
  line L7 (357, 351) -> (181.35, 351) projected
  arc A3 (175, 351) -> (181.35, 351) centre (178.175, 351) ccw projected
  line L8 (175, 351) -> (175, 369) projected
  line L9 (175, 369) -> (134, 369) projected
  line L10 (134, 369) -> (134, 326.35) projected
  arc A4 (134, 320) -> (134, 326.35) centre (134, 323.175) ccw projected
  line L11 (134, 320) -> (116, 320) projected
  arc A5 (116, 326.35) -> (116, 320) centre (116, 323.175) ccw projected
  line L12 (116, 326.35) -> (116, 369) projected
  line L13 (116, 369) -> (75, 369) projected
  line L14 (75, 369) -> (75, 351) projected
  arc A6 (68.65, 351) -> (75, 351) centre (71.825, 351) ccw projected
  line L15 (68.65, 351) -> (-68.65, 351) projected
  arc A7 (-75, 351) -> (-68.65, 351) centre (-71.825, 351) ccw projected
  line L16 (-75, 369) -> (-75, 351) projected
  line L17 (-116, 369) -> (-75, 369) projected
  line L18 (-116, 369) -> (-116, 326.35) projected
  arc A8 (-116, 320) -> (-116, 326.35) centre (-116, 323.175) ccw projected
  line L19 (-116, 320) -> (-134, 320) projected
  arc A9 (-134, 326.35) -> (-134, 320) centre (-134, 323.175) ccw projected
  line L20 (-134, 326.35) -> (-134, 369) projected
  line L21 (-175, 369) -> (-134, 369) projected
  line L22 (-175, 351) -> (-175, 369) projected
  arc A10 (-181.35, 351) -> (-175, 351) centre (-178.175, 351) ccw projected
  line L23 (-181.35, 351) -> (-375, 351) projected
  line L24 (-375, 351) -> (-375, 271) projected
  line L25 (-375, 271) -> (-357, 271) projected
  arc A11 (-357, 264.65) -> (-357, 271) centre (-357, 267.825) ccw projected
  line L26 (-357, 264.65) -> (-357, -24.65) projected
  arc A12 (-357, -31) -> (-357, -24.65) centre (-357, -27.825) ccw projected
  line L27 (-357, -31) -> (-375, -31) projected
  line L28 (-375, -31) -> (-375, -351) projected
  line L29 (-375, -351) -> (-325, -351) projected
  line L30 (-325, -351) -> (-325, -333) projected
  arc A13 (-318.65, -333) -> (-325, -333) centre (-321.825, -333) ccw projected
  line L31 (-318.65, -333) -> (-275, -333) projected
  arc A14 (-122.517, 271) -> (-125.5984, 268.5902) centre (-122.517, 267.825) ccw projected
  line L32 (-122.517, 271) -> (271.825, 271) projected
  arc A15 (275, 267.825) -> (271.825, 271) centre (271.825, 267.825) ccw projected
  line L33 (275, 267.825) -> (275, -333) projected
  line L34 (275, -333) -> (318.65, -333) projected
  line L35 (-275, -333) -> (-125.5984, 268.5902) projected
  point P0 (0, 0)
  point P1 (-366, -182)
  dimension "d66" = 302
  dimension "d67" = 151
  dimension "d68" = 9
hole "Hole5" at (-366, 18, 182) direction (0, -1, 0) diameter 6.35 end through all
sketch "Sketch14" plane through (0, 18, 0) normal (0, 1, 0) x (1, 0, 0)
  circle A0 centre (-366, -182) radius 3.175 projected
  arc A1 (325, -333) -> (318.65, -333) centre (321.825, -333) ccw projected
  line L0 (325, -333) -> (325, -351) projected
  line L1 (325, -351) -> (357, -351) projected
  line L2 (357, -351) -> (357, -37.35) projected
  arc A2 (357, -31) -> (357, -37.35) centre (357, -34.175) ccw projected
  line L3 (357, -31) -> (375, -31) projected
  line L4 (375, -31) -> (375, 271) projected
  line L5 (375, 271) -> (357, 271) projected
  arc A3 (357, 277.35) -> (357, 271) centre (357, 274.175) ccw projected
  line L6 (357, 277.35) -> (357, 351) projected
  line L7 (357, 351) -> (181.35, 351) projected
  arc A4 (175, 351) -> (181.35, 351) centre (178.175, 351) ccw projected
  line L8 (175, 351) -> (175, 369) projected
  line L9 (175, 369) -> (134, 369) projected
  line L10 (134, 369) -> (134, 326.35) projected
  arc A5 (134, 320) -> (134, 326.35) centre (134, 323.175) ccw projected
  line L11 (134, 320) -> (116, 320) projected
  arc A6 (116, 326.35) -> (116, 320) centre (116, 323.175) ccw projected
  line L12 (116, 326.35) -> (116, 369) projected
  line L13 (116, 369) -> (75, 369) projected
  line L14 (75, 369) -> (75, 351) projected
  arc A7 (68.65, 351) -> (75, 351) centre (71.825, 351) ccw projected
  line L15 (68.65, 351) -> (-68.65, 351) projected
  arc A8 (-75, 351) -> (-68.65, 351) centre (-71.825, 351) ccw projected
  line L16 (-75, 369) -> (-75, 351) projected
  line L17 (-116, 369) -> (-75, 369) projected
  line L18 (-116, 369) -> (-116, 326.35) projected
  arc A9 (-116, 320) -> (-116, 326.35) centre (-116, 323.175) ccw projected
  line L19 (-116, 320) -> (-134, 320) projected
  arc A10 (-134, 326.35) -> (-134, 320) centre (-134, 323.175) ccw projected
  line L20 (-134, 326.35) -> (-134, 369) projected
  line L21 (-175, 369) -> (-134, 369) projected
  line L22 (-175, 351) -> (-175, 369) projected
  arc A11 (-181.35, 351) -> (-175, 351) centre (-178.175, 351) ccw projected
  line L23 (-181.35, 351) -> (-375, 351) projected
  line L24 (-375, 351) -> (-375, 271) projected
  line L25 (-375, 271) -> (-357, 271) projected
  arc A12 (-357, 264.65) -> (-357, 271) centre (-357, 267.825) ccw projected
  line L26 (-357, 264.65) -> (-357, -24.65) projected
  arc A13 (-357, -31) -> (-357, -24.65) centre (-357, -27.825) ccw projected
  line L27 (-357, -31) -> (-375, -31) projected
  line L28 (-375, -31) -> (-375, -351) projected
  line L29 (-375, -351) -> (-325, -351) projected
  line L30 (-325, -351) -> (-325, -333) projected
  arc A14 (-318.65, -333) -> (-325, -333) centre (-321.825, -333) ccw projected
  line L31 (-318.65, -333) -> (-275, -333) projected
  arc A15 (-122.517, 271) -> (-125.5984, 268.5902) centre (-122.517, 267.825) ccw projected
  line L32 (-122.517, 271) -> (271.825, 271) projected
  arc A16 (275, 267.825) -> (271.825, 271) centre (271.825, 267.825) ccw projected
  line L33 (275, 267.825) -> (275, -333) projected
  line L34 (275, -333) -> (318.65, -333) projected
  line L35 (-275, -333) -> (-125.5984, 268.5902) projected
  point P0 (0, 0)
  point P1 (-366, 311)
  point P2 (-375, 311)
  dimension "d76" = 9
hole "Hole6" at (-366, 18, -311) direction (0, -1, 0) diameter 6.35 end through all
sketch "Sketch15" plane through (0, 18, 0) normal (0, 1, 0) x (1, 0, 0)
  line L0 (-125, 271) -> (-125, 320) construction
  line L1 (271.825, 271) -> (-122.517, 271) construction
  line L2 (-116, 320) -> (-134, 320) construction
  point P0 (0, 0)
  point P1 (-125, 295.5)
  point P2 (-125, 295.5)
  dimension "d84" = 49
hole "Hole7" at (-125, 18, -295.5) direction (0, -1, 0) diameter 6.35 end through all
mirror "Mirror10" about plane through (0, 0, -351) normal (-1, 0, 0) of "Hole7"
sketch "Sketch16" plane through (0, 18, 0) normal (0, 1, 0) x (1, 0, 0)
  circle A0 centre (125, 295.5) radius 3.175 projected
  circle A1 centre (-125, 295.5) radius 3.175 projected
  circle A2 centre (-366, 311) radius 3.175 projected
  circle A3 centre (-366, -182) radius 3.175 projected
  arc A4 (325, -333) -> (318.65, -333) centre (321.825, -333) ccw projected
  line L0 (325, -333) -> (325, -351) projected
  line L1 (325, -351) -> (357, -351) projected
  line L2 (357, -351) -> (357, -37.35) projected
  arc A5 (357, -31) -> (357, -37.35) centre (357, -34.175) ccw projected
  line L3 (357, -31) -> (375, -31) projected
  line L4 (375, -31) -> (375, 271) projected
  line L5 (375, 271) -> (357, 271) projected
  arc A6 (357, 277.35) -> (357, 271) centre (357, 274.175) ccw projected
  line L6 (357, 277.35) -> (357, 351) projected
  line L7 (357, 351) -> (181.35, 351) projected
  arc A7 (175, 351) -> (181.35, 351) centre (178.175, 351) ccw projected
  line L8 (175, 351) -> (175, 369) projected
  line L9 (175, 369) -> (134, 369) projected
  line L10 (134, 369) -> (134, 326.35) projected
  arc A8 (134, 320) -> (134, 326.35) centre (134, 323.175) ccw projected
  line L11 (134, 320) -> (116, 320) projected
  arc A9 (116, 326.35) -> (116, 320) centre (116, 323.175) ccw projected
  line L12 (116, 326.35) -> (116, 369) projected
  line L13 (116, 369) -> (75, 369) projected
  line L14 (75, 369) -> (75, 351) projected
  arc A10 (68.65, 351) -> (75, 351) centre (71.825, 351) ccw projected
  line L15 (68.65, 351) -> (-68.65, 351) projected
  arc A11 (-75, 351) -> (-68.65, 351) centre (-71.825, 351) ccw projected
  line L16 (-75, 369) -> (-75, 351) projected
  line L17 (-116, 369) -> (-75, 369) projected
  line L18 (-116, 369) -> (-116, 326.35) projected
  arc A12 (-116, 320) -> (-116, 326.35) centre (-116, 323.175) ccw projected
  line L19 (-116, 320) -> (-134, 320) projected
  arc A13 (-134, 326.35) -> (-134, 320) centre (-134, 323.175) ccw projected
  line L20 (-134, 326.35) -> (-134, 369) projected
  line L21 (-175, 369) -> (-134, 369) projected
  line L22 (-175, 351) -> (-175, 369) projected
  arc A14 (-181.35, 351) -> (-175, 351) centre (-178.175, 351) ccw projected
  line L23 (-181.35, 351) -> (-375, 351) projected
  line L24 (-375, 351) -> (-375, 271) projected
  line L25 (-375, 271) -> (-357, 271) projected
  arc A15 (-357, 264.65) -> (-357, 271) centre (-357, 267.825) ccw projected
  line L26 (-357, 264.65) -> (-357, -24.65) projected
  arc A16 (-357, -31) -> (-357, -24.65) centre (-357, -27.825) ccw projected
  line L27 (-357, -31) -> (-375, -31) projected
  line L28 (-375, -31) -> (-375, -351) projected
  line L29 (-375, -351) -> (-325, -351) projected
  line L30 (-325, -351) -> (-325, -333) projected
  arc A17 (-318.65, -333) -> (-325, -333) centre (-321.825, -333) ccw projected
  line L31 (-318.65, -333) -> (-275, -333) projected
  arc A18 (-122.517, 271) -> (-125.5984, 268.5902) centre (-122.517, 267.825) ccw projected
  line L32 (-122.517, 271) -> (271.825, 271) projected
  arc A19 (275, 267.825) -> (271.825, 271) centre (271.825, 267.825) ccw projected
  line L33 (275, 267.825) -> (275, -333) projected
  line L34 (275, -333) -> (318.65, -333) projected
  line L35 (-275, -333) -> (-125.5984, 268.5902) projected
  point P0 (0, 0)
  point P1 (366, 120)
  point P2 (375, 120)
  dimension "d92" = 9
hole "Hole8" at (366, 18, -120) direction (0, -1, 0) diameter 6.35 end through all
fillet "Fillet2" radius 3.175 4 edges at (-375, 9, -271) (-375, 9, 31) (375, 9, -271) (375, 9, 31)
equation "\"d0\" = tableWidth"
equation "\"d1\" = legHeight"
equation "\"d2\" = plyThickness"
equation "\"d4\" = legTopDepth"
equation "\"d5\" = legBaseWidth"
equation "\"d6\" = legBaseWidth"
equation "\"d7\" = legTopWidthLong"
equation "\"d101\" = plyThickness"
equation "\"d8\" = temp"
equation "\"d11\" = plyThickness"
equation "\"d14\" = plyThickness"
equation "\"d17\" = plyThickness"
equation "\"d20\" = plyThickness"
equation "\"d23\" = 0.5 * millDiameter"
equation "\"d24\" = legTopTabHeight"
equation "\"d25\" = legTabTotalWidth"
equation "\"d26\" = 0.333333 * tableWidth"
equation "\"d27\" = plyThickness"
equation "\"d29\" = plyThickness"
equation "\"d32\" = legTopSlotDepth"
equation "\"d30\" = plyThickness"
equation "\"d33\" = 0.5 * millDiameter"
equation "\"d34\" = 0.5 * millDiameter"
equation "\"d35\" = millDiameter"
equation "\"d42\" = 0.5 * millDiameter"
equation "\"d43\" = millDiameter"
equation "\"d50\" = 0.5 * millDiameter"
equation "\"d51\" = millDiameter"
equation "\"d58\" = 0.5 * millDiameter"
equation "\"d59\" = millDiameter"
equation "\"d67\" = 0.5 * d66"
equation "\"d68\" = 0.5 * plyThickness"
equation "\"d69\" = millDiameter"
equation "\"d76\" = 0.5 * plyThickness"
equation "\"d77\" = millDiameter"
equation "\"d84\" = legTopSlotDepth"
equation "\"d85\" = millDiameter"
equation "\"d92\" = 0.5 * plyThickness"
equation "\"d93\" = millDiameter"
equation "\"d100\" = 0.5 * millDiameter"
equation "\"temp\" = 18"
equation "\"plyThickness\" = 18"
equation "\"legHeight\" = 702"
equation "\"tableWidth\" = 750"
equation "\"legBaseWidth\" = 100"
equation "\"legTopWidthLong\" = 250"
equation "\"legTopDepth\" = 80"
equation "\"millDiameter\" = 6.35"
equation "\"legTopTabHeight\" = 18"
equation "\"legTabTotalWidth\" = 100"
equation "\"legTopSlotDepth\" = 49"
properties part number "sideLeg"
